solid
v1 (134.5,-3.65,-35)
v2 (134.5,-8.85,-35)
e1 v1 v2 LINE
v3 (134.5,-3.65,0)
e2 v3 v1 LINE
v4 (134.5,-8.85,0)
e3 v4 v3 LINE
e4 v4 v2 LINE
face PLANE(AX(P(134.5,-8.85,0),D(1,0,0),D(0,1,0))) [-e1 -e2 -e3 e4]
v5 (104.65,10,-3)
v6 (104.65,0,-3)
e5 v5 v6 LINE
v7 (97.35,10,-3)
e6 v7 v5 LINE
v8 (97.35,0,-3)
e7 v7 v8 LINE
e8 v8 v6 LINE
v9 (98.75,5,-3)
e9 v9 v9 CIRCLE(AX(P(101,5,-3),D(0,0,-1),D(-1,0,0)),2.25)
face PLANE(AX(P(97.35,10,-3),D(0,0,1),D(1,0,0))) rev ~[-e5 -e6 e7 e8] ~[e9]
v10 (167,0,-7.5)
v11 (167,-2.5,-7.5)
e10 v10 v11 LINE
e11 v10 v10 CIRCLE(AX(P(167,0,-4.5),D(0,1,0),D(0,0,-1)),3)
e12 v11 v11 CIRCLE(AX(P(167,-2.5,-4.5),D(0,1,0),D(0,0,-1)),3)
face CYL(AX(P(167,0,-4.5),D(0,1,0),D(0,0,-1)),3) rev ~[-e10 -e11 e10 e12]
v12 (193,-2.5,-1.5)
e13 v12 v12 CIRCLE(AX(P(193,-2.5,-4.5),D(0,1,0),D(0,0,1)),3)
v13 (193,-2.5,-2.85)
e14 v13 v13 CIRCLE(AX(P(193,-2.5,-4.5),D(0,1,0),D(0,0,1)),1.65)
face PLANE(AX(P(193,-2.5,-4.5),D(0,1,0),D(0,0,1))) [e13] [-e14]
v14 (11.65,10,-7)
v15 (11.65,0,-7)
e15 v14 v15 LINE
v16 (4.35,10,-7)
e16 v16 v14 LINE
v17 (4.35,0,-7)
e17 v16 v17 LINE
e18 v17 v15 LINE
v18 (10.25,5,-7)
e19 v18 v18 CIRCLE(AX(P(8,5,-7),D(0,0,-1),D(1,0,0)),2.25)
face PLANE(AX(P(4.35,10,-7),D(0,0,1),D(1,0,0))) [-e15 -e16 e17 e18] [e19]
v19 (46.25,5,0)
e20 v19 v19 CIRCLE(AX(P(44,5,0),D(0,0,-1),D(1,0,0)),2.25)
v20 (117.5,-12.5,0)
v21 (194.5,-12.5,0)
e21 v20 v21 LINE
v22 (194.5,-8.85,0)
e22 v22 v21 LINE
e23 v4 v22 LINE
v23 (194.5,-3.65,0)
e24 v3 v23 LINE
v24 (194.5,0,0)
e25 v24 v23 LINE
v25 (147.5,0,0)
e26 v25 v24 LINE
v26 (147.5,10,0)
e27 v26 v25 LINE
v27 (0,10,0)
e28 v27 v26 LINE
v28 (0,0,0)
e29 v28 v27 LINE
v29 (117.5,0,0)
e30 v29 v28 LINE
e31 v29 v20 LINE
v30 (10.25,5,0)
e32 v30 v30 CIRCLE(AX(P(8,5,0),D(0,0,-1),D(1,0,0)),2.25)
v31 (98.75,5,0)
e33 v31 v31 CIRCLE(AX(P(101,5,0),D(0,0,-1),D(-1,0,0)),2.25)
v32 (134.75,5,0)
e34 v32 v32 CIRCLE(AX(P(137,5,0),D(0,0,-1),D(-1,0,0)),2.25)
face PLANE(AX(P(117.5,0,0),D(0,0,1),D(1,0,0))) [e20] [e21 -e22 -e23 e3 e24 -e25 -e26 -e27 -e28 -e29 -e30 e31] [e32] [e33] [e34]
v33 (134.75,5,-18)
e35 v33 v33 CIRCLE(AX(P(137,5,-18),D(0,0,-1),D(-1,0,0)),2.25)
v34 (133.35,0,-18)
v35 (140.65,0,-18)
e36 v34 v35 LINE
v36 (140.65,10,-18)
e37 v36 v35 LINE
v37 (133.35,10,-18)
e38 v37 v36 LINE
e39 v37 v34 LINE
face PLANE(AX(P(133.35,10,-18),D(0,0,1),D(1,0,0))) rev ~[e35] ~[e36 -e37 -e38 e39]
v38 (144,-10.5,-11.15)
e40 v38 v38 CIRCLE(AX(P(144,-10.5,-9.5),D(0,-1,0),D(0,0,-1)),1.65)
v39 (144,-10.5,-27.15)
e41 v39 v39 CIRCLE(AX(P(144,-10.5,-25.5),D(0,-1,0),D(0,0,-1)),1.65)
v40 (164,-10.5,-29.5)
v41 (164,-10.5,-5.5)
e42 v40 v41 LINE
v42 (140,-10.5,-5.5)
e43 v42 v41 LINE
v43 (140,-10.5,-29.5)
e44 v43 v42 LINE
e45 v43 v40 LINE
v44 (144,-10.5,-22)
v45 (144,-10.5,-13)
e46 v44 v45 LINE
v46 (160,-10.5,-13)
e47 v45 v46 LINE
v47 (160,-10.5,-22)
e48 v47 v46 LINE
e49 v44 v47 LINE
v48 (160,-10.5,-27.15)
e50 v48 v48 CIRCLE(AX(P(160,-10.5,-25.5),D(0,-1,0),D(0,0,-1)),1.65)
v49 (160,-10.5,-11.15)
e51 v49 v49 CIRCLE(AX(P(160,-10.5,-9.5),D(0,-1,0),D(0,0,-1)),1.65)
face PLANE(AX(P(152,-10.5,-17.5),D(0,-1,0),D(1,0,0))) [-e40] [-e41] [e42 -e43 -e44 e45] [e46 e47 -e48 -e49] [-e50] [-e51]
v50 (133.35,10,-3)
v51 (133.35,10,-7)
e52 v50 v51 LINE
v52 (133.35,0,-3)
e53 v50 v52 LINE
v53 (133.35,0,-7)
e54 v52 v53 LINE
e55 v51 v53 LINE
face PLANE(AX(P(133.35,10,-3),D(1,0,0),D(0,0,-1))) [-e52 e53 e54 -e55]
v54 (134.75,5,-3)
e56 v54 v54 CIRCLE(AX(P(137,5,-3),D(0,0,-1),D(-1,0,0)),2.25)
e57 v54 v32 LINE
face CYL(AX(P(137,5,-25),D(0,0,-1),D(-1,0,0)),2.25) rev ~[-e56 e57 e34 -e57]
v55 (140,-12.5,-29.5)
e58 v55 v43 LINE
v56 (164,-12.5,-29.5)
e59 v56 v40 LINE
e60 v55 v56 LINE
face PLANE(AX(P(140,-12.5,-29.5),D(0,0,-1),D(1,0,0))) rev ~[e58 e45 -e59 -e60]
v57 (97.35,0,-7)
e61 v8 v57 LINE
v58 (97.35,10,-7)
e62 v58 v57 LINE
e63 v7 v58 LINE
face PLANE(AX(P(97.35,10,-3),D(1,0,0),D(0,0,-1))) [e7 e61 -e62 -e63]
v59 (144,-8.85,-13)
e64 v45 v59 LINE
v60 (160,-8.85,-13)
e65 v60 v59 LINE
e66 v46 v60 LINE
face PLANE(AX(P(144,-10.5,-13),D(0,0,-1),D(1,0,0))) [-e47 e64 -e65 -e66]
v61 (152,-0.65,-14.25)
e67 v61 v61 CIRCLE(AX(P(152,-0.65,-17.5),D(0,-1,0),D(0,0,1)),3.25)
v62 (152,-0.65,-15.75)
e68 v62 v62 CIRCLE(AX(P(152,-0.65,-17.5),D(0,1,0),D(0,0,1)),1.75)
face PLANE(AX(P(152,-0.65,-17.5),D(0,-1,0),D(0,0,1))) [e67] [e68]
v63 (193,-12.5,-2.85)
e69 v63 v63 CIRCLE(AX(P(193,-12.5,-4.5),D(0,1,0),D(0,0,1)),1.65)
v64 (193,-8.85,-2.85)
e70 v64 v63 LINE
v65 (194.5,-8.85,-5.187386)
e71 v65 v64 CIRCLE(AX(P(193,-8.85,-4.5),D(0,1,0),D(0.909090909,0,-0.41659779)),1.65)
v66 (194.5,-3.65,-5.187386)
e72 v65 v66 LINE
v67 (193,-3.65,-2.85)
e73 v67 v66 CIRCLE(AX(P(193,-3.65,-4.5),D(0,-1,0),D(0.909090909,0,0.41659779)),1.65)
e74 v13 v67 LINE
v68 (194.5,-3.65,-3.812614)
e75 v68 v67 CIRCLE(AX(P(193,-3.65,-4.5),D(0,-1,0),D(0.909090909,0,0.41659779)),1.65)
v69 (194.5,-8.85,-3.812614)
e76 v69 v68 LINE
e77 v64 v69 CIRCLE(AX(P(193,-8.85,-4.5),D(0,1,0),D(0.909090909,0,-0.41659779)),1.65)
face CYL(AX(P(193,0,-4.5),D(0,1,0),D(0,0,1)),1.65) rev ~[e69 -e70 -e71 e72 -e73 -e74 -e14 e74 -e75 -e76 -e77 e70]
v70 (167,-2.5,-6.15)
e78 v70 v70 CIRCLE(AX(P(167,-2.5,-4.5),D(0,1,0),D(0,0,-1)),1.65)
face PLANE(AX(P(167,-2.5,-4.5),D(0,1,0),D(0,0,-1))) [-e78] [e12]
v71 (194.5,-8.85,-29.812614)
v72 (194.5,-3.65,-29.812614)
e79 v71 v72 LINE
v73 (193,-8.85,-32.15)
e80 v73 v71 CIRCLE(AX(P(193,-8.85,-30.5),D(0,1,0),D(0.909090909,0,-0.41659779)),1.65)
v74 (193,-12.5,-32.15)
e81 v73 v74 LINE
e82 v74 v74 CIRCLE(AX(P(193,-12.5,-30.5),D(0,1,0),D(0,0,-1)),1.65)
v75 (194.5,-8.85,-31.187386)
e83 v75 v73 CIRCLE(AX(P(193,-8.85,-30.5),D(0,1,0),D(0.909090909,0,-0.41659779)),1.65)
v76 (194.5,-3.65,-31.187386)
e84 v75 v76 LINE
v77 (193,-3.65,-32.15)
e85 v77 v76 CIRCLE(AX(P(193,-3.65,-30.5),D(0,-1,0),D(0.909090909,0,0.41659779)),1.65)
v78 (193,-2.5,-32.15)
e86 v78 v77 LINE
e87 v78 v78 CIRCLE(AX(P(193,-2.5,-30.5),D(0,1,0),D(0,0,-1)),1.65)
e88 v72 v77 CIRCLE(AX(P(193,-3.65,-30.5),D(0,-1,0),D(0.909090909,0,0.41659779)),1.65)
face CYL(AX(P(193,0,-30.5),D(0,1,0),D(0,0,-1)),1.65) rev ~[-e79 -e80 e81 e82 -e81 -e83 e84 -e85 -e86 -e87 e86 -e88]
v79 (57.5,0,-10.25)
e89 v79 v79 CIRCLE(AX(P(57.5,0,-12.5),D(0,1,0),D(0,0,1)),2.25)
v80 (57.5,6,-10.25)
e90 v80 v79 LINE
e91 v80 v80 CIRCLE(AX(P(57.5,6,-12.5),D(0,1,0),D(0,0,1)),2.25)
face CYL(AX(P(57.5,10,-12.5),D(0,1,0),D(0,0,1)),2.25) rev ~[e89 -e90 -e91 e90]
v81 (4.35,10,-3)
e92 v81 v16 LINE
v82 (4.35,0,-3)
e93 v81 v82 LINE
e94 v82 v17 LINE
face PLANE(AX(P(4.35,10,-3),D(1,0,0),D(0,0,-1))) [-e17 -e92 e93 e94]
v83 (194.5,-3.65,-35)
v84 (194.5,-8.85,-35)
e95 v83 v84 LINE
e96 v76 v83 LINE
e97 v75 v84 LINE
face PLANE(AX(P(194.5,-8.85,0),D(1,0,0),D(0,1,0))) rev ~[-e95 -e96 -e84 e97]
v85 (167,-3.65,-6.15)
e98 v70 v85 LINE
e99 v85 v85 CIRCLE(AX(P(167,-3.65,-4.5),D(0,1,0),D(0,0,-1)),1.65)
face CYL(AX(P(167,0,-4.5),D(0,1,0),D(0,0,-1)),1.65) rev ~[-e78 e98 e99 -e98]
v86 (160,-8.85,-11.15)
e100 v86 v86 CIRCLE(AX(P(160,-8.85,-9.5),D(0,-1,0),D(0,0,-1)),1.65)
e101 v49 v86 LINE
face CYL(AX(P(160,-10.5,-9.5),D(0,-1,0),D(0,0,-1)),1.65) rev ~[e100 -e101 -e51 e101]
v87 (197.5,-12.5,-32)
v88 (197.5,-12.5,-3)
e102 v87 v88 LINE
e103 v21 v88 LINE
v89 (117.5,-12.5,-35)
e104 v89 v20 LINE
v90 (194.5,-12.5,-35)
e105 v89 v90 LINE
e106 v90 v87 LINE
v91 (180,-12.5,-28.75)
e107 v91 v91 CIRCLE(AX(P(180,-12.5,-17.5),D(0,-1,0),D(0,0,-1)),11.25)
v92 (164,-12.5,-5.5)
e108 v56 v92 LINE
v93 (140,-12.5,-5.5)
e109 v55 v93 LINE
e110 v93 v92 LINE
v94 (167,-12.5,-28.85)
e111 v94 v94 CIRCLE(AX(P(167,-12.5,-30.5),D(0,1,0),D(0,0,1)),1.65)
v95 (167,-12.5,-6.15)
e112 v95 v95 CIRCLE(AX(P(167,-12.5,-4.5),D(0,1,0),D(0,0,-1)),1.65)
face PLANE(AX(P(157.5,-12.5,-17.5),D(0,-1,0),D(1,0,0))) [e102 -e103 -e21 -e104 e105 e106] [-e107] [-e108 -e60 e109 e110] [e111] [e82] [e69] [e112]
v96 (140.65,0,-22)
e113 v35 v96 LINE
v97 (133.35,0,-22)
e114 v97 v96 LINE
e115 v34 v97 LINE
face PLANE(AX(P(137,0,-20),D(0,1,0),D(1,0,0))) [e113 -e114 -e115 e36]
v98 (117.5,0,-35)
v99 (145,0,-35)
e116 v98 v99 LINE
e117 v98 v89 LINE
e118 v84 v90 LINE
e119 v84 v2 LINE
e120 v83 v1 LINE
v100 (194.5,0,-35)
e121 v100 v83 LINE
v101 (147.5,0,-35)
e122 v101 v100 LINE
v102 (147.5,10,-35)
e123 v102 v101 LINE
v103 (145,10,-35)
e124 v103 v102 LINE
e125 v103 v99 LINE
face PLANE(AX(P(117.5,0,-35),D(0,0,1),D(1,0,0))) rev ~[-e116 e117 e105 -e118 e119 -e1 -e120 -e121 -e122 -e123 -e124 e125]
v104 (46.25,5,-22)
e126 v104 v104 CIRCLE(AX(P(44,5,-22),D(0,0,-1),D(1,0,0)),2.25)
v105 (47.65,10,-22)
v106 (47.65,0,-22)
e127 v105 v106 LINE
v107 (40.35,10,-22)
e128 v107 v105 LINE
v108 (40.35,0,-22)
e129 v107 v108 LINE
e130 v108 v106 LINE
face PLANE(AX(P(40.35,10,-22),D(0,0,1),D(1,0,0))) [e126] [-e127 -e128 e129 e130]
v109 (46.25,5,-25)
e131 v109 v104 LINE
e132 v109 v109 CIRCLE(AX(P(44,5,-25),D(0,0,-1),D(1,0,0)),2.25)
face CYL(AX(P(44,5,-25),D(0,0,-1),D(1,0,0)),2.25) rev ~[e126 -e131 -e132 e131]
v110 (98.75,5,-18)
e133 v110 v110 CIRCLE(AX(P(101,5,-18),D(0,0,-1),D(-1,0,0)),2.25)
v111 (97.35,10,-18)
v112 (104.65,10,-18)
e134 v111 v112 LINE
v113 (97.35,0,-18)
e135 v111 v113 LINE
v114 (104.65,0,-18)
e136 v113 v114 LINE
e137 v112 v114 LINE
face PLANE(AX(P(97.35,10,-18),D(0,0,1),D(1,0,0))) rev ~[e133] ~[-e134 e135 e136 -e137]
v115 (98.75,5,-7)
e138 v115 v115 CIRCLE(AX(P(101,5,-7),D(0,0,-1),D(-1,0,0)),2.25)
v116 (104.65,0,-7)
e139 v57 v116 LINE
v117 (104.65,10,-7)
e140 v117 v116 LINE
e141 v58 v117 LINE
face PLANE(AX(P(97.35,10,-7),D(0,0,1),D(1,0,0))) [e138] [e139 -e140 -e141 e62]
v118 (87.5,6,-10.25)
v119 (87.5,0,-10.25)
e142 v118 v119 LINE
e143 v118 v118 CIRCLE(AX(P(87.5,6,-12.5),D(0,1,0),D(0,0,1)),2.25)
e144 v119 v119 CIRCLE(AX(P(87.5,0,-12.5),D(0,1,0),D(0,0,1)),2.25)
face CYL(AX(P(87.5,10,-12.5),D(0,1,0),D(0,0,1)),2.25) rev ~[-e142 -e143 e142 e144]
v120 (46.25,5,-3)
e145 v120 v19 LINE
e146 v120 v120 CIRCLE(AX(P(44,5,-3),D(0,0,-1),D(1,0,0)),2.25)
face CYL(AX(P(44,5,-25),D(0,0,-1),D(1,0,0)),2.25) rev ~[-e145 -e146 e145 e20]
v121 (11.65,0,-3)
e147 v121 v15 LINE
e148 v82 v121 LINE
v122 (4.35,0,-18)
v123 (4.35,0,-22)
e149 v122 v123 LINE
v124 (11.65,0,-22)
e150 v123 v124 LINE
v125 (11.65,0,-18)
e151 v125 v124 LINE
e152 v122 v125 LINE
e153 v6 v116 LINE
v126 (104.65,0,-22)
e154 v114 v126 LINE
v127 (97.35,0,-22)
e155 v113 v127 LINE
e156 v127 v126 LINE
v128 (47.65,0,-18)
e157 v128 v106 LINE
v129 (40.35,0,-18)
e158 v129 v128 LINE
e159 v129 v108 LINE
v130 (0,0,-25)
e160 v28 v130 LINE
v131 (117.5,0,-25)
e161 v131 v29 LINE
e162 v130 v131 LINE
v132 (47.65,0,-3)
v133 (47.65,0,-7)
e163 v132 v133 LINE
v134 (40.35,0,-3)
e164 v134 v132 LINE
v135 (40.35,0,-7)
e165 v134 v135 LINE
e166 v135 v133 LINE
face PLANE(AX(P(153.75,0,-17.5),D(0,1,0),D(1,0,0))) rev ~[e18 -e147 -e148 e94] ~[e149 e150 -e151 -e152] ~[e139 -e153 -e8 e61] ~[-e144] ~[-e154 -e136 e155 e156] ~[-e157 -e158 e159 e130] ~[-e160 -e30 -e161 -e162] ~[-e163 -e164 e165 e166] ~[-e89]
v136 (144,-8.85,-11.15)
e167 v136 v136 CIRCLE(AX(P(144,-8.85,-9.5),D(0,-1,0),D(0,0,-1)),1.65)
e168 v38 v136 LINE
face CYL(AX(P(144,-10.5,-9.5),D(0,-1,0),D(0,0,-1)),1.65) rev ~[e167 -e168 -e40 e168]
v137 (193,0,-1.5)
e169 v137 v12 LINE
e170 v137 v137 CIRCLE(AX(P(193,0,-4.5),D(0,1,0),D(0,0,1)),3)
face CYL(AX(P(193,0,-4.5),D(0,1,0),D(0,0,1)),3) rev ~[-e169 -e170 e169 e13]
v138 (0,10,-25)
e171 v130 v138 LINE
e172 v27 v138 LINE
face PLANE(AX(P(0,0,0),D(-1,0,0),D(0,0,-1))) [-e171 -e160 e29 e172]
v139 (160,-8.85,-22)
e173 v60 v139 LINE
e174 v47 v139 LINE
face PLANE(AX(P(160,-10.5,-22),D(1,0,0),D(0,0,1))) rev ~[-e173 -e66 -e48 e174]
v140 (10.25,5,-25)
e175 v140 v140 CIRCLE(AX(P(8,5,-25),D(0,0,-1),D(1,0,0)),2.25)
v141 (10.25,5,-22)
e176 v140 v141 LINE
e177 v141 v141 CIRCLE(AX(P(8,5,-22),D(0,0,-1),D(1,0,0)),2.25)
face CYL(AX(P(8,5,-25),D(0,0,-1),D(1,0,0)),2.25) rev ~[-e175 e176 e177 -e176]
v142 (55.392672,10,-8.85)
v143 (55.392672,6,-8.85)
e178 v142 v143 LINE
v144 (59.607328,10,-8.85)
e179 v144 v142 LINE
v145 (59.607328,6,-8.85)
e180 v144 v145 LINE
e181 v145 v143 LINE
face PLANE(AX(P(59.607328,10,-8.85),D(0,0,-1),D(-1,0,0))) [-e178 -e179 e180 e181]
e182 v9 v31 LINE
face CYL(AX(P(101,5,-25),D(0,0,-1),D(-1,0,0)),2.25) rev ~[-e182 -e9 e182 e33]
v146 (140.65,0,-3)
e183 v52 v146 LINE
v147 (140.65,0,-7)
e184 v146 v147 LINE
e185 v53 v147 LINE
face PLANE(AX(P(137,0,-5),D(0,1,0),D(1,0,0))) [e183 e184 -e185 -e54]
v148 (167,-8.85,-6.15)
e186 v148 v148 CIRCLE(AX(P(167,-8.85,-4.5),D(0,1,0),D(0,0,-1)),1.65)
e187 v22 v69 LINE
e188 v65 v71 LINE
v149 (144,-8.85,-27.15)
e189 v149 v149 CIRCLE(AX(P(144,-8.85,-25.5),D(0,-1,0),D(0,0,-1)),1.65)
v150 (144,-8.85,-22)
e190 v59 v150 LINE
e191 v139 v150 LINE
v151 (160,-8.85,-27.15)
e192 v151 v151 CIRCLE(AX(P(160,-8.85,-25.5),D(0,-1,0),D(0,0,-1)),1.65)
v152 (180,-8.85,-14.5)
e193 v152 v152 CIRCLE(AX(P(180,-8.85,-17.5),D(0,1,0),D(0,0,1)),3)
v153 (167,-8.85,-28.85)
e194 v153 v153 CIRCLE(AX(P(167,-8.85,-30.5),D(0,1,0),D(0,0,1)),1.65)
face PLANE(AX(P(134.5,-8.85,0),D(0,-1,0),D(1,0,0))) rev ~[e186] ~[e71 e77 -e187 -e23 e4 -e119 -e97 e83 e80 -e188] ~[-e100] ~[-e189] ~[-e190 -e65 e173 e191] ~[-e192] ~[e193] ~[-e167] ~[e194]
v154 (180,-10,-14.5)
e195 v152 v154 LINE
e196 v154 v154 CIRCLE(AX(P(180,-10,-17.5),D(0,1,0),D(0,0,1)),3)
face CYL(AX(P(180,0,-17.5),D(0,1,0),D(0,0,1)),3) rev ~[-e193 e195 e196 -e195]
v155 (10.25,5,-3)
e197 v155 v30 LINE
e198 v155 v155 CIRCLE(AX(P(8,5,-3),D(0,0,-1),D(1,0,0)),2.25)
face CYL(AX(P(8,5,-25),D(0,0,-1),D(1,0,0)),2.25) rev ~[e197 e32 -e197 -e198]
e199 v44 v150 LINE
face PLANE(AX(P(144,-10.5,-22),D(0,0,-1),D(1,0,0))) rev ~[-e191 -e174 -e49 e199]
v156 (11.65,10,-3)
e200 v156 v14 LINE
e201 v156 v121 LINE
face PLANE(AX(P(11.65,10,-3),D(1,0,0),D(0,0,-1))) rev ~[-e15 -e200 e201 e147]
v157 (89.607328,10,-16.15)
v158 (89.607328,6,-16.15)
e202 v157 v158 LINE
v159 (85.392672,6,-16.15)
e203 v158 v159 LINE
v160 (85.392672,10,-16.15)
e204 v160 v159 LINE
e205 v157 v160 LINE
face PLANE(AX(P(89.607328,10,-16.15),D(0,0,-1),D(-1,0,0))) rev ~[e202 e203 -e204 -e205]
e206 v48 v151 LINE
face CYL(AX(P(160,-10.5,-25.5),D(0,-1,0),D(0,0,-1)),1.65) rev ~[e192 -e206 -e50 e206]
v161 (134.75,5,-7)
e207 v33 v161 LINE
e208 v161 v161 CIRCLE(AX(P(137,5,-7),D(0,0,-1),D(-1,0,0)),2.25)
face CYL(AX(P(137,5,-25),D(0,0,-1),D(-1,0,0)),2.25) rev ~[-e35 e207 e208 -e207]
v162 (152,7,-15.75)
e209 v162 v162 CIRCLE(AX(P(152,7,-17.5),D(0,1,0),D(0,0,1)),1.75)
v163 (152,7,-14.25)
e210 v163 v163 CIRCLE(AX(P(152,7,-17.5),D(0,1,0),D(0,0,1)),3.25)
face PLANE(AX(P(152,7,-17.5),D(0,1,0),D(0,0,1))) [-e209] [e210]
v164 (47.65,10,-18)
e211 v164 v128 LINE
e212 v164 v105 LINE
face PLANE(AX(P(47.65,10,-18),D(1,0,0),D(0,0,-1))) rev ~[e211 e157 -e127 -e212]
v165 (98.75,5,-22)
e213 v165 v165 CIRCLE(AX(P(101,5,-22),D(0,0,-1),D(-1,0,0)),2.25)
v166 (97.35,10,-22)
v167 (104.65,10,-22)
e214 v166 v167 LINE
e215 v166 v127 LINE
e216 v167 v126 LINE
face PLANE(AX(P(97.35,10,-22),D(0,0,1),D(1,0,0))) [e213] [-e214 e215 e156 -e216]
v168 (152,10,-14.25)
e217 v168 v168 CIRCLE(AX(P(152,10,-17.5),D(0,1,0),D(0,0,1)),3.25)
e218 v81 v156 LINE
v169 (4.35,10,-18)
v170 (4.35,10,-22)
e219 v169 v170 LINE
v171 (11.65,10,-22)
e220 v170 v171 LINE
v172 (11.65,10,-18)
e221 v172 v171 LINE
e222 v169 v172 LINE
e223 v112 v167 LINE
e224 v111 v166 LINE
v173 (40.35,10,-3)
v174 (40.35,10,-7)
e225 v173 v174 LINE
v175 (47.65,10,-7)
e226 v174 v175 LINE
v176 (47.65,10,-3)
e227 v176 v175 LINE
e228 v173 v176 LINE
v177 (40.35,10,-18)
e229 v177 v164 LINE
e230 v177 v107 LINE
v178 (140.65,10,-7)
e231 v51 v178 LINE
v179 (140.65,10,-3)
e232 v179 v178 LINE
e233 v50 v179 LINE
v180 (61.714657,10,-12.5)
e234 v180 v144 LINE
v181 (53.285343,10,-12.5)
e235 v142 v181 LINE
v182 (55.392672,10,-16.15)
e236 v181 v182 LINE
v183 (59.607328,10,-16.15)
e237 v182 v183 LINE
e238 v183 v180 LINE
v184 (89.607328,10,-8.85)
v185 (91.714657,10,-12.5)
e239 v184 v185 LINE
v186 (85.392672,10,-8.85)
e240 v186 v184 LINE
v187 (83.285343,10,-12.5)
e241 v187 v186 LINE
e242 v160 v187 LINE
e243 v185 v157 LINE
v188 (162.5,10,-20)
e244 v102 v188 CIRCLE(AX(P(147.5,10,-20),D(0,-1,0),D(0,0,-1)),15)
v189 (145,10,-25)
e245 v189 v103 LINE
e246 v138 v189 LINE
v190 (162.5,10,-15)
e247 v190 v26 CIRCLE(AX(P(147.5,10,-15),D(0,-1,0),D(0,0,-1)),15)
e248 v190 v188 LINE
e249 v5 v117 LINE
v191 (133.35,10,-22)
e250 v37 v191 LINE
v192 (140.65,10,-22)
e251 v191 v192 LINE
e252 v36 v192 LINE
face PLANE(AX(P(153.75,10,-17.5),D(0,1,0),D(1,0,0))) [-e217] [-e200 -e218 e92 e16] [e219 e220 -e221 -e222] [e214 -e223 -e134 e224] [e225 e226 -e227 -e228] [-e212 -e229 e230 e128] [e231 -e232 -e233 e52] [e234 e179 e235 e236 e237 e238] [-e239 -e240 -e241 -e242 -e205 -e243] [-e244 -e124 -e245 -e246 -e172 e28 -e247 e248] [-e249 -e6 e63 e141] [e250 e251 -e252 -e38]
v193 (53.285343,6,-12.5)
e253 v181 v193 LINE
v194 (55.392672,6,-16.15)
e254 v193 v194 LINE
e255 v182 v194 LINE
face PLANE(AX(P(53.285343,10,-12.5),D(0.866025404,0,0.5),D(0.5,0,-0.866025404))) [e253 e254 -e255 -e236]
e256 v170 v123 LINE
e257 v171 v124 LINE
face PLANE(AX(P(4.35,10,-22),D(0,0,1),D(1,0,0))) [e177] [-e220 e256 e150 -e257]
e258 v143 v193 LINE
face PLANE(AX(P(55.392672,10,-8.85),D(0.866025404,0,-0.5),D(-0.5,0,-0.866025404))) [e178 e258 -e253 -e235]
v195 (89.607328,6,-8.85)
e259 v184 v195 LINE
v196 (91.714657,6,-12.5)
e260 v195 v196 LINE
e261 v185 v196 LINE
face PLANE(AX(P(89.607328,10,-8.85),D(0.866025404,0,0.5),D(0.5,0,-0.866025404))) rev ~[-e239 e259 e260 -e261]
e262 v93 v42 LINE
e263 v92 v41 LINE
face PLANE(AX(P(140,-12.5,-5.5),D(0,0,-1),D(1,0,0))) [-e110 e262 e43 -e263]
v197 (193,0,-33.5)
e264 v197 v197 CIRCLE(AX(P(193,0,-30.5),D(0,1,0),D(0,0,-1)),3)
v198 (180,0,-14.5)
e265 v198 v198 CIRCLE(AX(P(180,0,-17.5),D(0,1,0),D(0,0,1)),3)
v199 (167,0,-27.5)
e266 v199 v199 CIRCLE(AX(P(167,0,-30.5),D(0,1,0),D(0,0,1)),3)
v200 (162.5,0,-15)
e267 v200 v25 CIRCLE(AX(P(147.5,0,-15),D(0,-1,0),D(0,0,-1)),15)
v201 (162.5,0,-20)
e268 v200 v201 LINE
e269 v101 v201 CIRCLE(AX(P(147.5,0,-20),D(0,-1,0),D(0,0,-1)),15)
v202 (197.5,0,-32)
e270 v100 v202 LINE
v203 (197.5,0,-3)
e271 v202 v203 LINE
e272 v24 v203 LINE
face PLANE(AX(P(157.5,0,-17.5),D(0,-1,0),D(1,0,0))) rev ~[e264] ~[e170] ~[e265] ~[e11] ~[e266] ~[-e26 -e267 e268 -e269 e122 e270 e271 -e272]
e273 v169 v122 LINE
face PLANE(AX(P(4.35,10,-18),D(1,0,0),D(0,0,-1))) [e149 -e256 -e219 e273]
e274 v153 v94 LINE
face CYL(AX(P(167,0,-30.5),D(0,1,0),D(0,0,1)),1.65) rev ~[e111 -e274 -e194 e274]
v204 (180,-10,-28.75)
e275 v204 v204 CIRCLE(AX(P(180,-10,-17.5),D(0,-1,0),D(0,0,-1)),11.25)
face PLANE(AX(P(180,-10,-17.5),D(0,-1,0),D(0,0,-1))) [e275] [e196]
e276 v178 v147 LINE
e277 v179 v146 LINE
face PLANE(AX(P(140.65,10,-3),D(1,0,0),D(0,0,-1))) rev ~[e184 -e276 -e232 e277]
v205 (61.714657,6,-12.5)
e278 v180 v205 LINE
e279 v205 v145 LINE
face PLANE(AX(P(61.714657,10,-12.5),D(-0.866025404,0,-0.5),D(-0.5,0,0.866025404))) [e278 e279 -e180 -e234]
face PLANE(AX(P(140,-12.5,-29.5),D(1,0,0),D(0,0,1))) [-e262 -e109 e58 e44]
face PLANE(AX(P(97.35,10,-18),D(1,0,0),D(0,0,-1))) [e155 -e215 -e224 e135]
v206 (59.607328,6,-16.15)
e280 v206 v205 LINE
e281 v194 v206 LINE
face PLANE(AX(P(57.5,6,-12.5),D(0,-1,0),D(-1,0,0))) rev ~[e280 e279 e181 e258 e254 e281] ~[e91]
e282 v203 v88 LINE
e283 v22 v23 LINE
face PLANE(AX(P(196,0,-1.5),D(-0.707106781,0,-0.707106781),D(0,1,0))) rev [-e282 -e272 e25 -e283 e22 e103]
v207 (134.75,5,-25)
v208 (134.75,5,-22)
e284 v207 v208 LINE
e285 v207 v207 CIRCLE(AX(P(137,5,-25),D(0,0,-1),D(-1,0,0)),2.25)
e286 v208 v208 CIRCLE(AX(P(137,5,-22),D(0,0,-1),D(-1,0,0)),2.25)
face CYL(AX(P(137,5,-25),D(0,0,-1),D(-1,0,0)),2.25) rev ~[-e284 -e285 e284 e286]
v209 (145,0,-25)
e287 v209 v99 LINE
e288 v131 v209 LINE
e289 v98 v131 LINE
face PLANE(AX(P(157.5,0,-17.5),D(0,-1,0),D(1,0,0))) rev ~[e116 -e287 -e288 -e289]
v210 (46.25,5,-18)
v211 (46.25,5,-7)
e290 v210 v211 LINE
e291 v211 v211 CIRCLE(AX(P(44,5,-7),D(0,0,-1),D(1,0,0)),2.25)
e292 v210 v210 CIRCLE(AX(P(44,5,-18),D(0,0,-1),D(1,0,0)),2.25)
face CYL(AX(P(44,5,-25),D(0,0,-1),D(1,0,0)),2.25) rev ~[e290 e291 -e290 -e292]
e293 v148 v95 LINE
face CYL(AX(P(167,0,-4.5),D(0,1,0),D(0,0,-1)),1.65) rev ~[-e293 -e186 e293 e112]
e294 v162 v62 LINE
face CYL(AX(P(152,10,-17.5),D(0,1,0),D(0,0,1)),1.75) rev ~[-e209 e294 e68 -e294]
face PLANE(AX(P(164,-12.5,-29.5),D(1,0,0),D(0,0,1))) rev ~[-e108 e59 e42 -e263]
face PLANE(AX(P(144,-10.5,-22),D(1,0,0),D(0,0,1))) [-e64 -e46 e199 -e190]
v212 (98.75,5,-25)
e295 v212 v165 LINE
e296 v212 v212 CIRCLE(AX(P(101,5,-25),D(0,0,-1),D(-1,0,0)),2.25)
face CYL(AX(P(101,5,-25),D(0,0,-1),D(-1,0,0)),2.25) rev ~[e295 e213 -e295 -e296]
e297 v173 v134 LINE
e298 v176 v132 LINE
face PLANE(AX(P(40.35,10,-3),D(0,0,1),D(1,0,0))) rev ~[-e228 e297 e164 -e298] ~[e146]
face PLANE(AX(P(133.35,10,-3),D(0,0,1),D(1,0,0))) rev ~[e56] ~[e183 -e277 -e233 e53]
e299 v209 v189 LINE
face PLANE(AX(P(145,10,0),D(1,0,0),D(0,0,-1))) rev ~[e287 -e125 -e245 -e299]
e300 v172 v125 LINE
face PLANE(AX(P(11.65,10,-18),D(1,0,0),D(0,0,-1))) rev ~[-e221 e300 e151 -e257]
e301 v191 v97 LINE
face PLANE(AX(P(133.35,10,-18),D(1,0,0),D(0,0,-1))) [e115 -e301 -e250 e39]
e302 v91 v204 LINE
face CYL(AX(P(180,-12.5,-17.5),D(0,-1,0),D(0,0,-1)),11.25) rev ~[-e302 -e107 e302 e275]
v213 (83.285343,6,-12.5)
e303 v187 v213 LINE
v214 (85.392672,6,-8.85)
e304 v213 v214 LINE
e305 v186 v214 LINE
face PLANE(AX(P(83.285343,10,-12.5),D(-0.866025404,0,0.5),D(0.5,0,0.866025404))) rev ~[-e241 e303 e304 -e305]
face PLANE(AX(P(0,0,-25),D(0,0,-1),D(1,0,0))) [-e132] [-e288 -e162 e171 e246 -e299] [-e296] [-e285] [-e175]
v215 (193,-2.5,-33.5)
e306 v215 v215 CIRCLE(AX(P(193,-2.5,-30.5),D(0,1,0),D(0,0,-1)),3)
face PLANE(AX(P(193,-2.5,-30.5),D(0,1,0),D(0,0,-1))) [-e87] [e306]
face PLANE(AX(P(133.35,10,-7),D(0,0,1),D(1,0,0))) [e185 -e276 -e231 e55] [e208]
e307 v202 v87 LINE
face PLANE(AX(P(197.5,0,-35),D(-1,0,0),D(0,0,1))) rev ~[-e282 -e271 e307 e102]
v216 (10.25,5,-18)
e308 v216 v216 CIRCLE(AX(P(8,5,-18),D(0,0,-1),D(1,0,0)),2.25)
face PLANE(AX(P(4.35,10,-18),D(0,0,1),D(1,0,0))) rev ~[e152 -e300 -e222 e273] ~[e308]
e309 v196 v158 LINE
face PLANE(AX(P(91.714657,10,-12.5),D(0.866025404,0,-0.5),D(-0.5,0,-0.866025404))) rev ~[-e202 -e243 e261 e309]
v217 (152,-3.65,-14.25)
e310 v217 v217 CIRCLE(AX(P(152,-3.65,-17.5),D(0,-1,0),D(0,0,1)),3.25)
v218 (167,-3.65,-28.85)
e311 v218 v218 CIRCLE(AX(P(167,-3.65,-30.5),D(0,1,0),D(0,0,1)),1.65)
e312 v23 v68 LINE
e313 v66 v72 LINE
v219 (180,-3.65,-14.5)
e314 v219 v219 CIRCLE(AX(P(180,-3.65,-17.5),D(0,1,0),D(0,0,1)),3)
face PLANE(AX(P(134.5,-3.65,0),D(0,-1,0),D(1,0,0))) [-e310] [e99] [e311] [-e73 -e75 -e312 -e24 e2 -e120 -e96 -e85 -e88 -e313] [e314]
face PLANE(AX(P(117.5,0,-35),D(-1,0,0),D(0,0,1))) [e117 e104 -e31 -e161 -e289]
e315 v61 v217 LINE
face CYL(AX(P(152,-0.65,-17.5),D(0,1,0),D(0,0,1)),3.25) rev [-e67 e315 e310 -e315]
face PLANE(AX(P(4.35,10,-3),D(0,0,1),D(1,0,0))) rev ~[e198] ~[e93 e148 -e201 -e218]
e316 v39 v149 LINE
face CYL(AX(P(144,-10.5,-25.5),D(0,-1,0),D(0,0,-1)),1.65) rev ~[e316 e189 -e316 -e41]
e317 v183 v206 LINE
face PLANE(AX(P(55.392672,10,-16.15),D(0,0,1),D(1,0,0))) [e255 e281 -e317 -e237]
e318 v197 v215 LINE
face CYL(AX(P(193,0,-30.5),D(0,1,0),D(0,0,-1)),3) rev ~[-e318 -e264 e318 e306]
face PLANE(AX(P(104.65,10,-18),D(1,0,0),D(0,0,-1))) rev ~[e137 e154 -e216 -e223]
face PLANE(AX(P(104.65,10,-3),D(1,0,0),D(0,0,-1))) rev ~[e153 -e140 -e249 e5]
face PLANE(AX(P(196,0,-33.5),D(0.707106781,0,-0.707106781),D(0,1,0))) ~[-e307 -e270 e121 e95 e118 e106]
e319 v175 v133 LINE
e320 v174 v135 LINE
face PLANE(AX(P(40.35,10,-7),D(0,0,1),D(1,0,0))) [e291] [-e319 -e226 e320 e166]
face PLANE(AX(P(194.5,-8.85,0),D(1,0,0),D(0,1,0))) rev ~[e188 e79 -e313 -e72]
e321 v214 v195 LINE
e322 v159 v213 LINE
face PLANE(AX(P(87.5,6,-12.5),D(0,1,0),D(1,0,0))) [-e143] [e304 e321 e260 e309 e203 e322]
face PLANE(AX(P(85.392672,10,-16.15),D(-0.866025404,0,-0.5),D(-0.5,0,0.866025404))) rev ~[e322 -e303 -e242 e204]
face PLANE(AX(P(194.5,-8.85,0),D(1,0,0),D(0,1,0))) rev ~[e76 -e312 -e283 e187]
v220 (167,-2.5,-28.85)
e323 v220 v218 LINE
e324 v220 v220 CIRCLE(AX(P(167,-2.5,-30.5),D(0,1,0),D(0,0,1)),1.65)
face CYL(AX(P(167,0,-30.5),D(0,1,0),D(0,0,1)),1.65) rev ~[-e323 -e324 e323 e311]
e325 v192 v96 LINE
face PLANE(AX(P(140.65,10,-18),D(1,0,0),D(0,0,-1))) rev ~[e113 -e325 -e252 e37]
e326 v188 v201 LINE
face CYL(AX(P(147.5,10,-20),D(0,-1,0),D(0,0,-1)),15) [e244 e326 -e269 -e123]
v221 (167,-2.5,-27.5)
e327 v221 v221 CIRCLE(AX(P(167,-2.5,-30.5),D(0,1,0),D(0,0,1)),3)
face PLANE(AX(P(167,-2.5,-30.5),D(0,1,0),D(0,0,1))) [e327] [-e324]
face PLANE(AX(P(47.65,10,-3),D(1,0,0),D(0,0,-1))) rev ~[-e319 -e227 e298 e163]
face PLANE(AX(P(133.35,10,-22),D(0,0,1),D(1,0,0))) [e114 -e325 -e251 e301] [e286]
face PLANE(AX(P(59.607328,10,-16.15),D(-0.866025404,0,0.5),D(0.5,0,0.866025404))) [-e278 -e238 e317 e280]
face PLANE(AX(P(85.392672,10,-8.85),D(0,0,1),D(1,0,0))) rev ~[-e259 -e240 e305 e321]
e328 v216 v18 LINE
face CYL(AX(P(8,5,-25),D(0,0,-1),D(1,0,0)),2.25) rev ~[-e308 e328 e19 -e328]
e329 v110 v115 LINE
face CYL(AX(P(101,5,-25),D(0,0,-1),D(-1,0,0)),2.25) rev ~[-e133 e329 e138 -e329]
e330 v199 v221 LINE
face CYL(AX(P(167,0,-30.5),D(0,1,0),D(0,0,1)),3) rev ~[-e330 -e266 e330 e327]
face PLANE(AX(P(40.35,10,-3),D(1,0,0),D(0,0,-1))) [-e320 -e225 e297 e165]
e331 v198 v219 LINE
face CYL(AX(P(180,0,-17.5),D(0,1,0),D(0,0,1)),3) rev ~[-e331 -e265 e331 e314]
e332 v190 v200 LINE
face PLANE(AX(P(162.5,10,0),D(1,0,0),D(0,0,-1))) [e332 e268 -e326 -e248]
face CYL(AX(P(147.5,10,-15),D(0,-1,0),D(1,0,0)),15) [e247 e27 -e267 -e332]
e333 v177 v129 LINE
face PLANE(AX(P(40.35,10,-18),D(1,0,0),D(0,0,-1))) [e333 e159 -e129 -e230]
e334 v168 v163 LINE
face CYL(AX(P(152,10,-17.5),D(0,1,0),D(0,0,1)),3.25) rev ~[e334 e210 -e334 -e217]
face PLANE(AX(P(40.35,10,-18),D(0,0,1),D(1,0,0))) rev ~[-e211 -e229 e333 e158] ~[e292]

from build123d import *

# Parameters (mm, degrees)
SKETCH1_W           = 145
SKETCH1_H           = 25
BOSS_EXTRUDE1_DEPTH = 10
SKETCH2_W           = 17.5
SKETCH2_H           = 35
BOSS_EXTRUDE2_DEPTH = 10
SKETCH4_W           = 80
SKETCH4_H           = 35
BOSS_EXTRUDE3_DEPTH = 12.5
SKETCH8_R           = 2.25
CUT_EXTRUDE5_DEPTH  = 200.468042553
SKETCH9_W           = 7.3
SKETCH9_H           = 4
CUT_EXTRUDE6_DEPTH  = 10
CUT_EXTRUDE7_REACH  = 202.966
SKETCH10_R          = 3
SKETCH10_R_2        = 1.65
CHAMFER1_SIZE       = 3
FILLET1_R           = 15
SKETCH14_R          = 11.25
CUT_EXTRUDE11_DEPTH = 2.5
SKETCH15_R          = 3
CUT_EXTRUDE12_DEPTH = 2.5
CUT_EXTRUDE13_REACH = 203.835
SKETCH16_R          = 2.25
CUT_EXTRUDE15_DEPTH = 4
CUT_EXTRUDE16_REACH = 202.966
SKETCH19_W          = 60
SKETCH19_H          = 5.2
SKETCH20_R          = 1.75
CUT_EXTRUDE17_DEPTH = 202.835328919
SKETCH21_W          = 24
SKETCH21_H          = 24
CUT_EXTRUDE18_DEPTH = 2
CUT_EXTRUDE19_REACH = 203.622
SKETCH22_R          = 1.65
SKETCH22_W          = 16
SKETCH22_H          = 9
SKETCH23_R          = 3.25
CUT_EXTRUDE20_DEPTH = 3
CUT_EXTRUDE21_START = -3
SKETCH24_R          = 3.25
CUT_EXTRUDE21_DEPTH = 3


with BuildPart() as part:
    # Sketch1 → Boss-Extrude1 (new body)
    with BuildSketch(Plane(origin=(0, 0, 0), x_dir=(1, 0, 0), z_dir=(0, 1, 0))):
        with Locations((72.5, 12.5)):
            Rectangle(SKETCH1_W, SKETCH1_H)
    extrude(amount=BOSS_EXTRUDE1_DEPTH)

    # Sketch2 → Boss-Extrude2 (add)
    with BuildSketch(Plane(origin=(0, 10, 0), x_dir=(1, 0, 0), z_dir=(0, 1, 0))):
        with Locations((153.75, 17.5)):
            Rectangle(SKETCH2_W, SKETCH2_H)
    extrude(amount=-BOSS_EXTRUDE2_DEPTH)

    # Sketch4 → Boss-Extrude3 (add)
    with BuildSketch(Plane.XZ):
        with Locations((157.5, -17.5)):
            Rectangle(SKETCH4_W, SKETCH4_H)
    extrude(amount=BOSS_EXTRUDE3_DEPTH)

    # Sketch8 → Cut-Extrude5 (cut, through all)
    with BuildSketch(Plane(origin=(0, 0, -25), x_dir=(-1, 0, 0), z_dir=(0, 0, -1))):
        with Locations((-137, 5)):
            Circle(SKETCH8_R)
        with Locations((-101, 5)):
            Circle(SKETCH8_R)
        with Locations(Location((-44, 5, 0), (0, 0, 180))):
            Circle(SKETCH8_R)
        with Locations(Location((-8, 5, 0), (0, 0, 180))):
            Circle(SKETCH8_R)
    extrude(amount=-CUT_EXTRUDE5_DEPTH, mode=Mode.SUBTRACT)

    # Sketch9 → Cut-Extrude6 (cut)
    with BuildSketch(Plane(origin=(0, 10, 0), x_dir=(1, 0, 0), z_dir=(0, 1, 0))):
        with Locations((137, 20)):
            Rectangle(SKETCH9_W, SKETCH9_H)
        with Locations((137, 5)):
            Rectangle(SKETCH9_W, SKETCH9_H)
        with Locations((101, 5)):
            Rectangle(SKETCH9_W, SKETCH9_H)
        with Locations((101, 20)):
            Rectangle(SKETCH9_W, SKETCH9_H)
        with Locations((8, 20)):
            Rectangle(SKETCH9_W, SKETCH9_H)
        with Locations((44, 20)):
            Rectangle(SKETCH9_W, SKETCH9_H)
        with Locations((44, 5)):
            Rectangle(SKETCH9_W, SKETCH9_H)
        with Locations((8, 5)):
            Rectangle(SKETCH9_W, SKETCH9_H)
    extrude(amount=-CUT_EXTRUDE6_DEPTH, mode=Mode.SUBTRACT)

    # Sketch10 → Cut-Extrude7 (cut, up to next)
    with BuildSketch(Plane(origin=(0, 0, 0), x_dir=(1, 0, 0), z_dir=(0, 1, 0)), mode=Mode.PRIVATE) as cut_extrude7_sk1:
        with Locations(Location((180, 17.5, 0), (0, 0, 270))):
            Circle(SKETCH10_R)
    cut_extrude7_tool1 = extrude(cut_extrude7_sk1.sketch, amount=-CUT_EXTRUDE7_REACH, mode=Mode.PRIVATE) & part.part
    # Sketch10 → Cut-Extrude7 (cut, up to next)
    with BuildSketch(Plane(origin=(0, 0, 0), x_dir=(1, 0, 0), z_dir=(0, 1, 0)), mode=Mode.PRIVATE) as cut_extrude7_sk2:
        with Locations(Location((193, 4.5, 0), (0, 0, 270))):
            Circle(SKETCH10_R_2)
    cut_extrude7_tool2 = extrude(cut_extrude7_sk2.sketch, amount=-CUT_EXTRUDE7_REACH, mode=Mode.PRIVATE) & part.part
    # Sketch10 → Cut-Extrude7 (cut, up to next)
    with BuildSketch(Plane(origin=(0, 0, 0), x_dir=(1, 0, 0), z_dir=(0, 1, 0)), mode=Mode.PRIVATE) as cut_extrude7_sk3:
        with Locations(Location((167, 4.5, 0), (0, 0, 90))):
            Circle(SKETCH10_R_2)
    cut_extrude7_tool3 = extrude(cut_extrude7_sk3.sketch, amount=-CUT_EXTRUDE7_REACH, mode=Mode.PRIVATE) & part.part
    # Sketch10 → Cut-Extrude7 (cut, up to next)
    with BuildSketch(Plane(origin=(0, 0, 0), x_dir=(1, 0, 0), z_dir=(0, 1, 0)), mode=Mode.PRIVATE) as cut_extrude7_sk4:
        with Locations(Location((167, 30.5, 0), (0, 0, 270))):
            Circle(SKETCH10_R_2)
    cut_extrude7_tool4 = extrude(cut_extrude7_sk4.sketch, amount=-CUT_EXTRUDE7_REACH, mode=Mode.PRIVATE) & part.part
    # Sketch10 → Cut-Extrude7 (cut, up to next)
    with BuildSketch(Plane(origin=(0, 0, 0), x_dir=(1, 0, 0), z_dir=(0, 1, 0)), mode=Mode.PRIVATE) as cut_extrude7_sk5:
        with Locations(Location((193, 30.5, 0), (0, 0, 90))):
            Circle(SKETCH10_R_2)
    cut_extrude7_tool5 = extrude(cut_extrude7_sk5.sketch, amount=-CUT_EXTRUDE7_REACH, mode=Mode.PRIVATE) & part.part
    add(cut_extrude7_tool1.solids().sort_by_distance((180, 0, -17.5))[0], mode=Mode.SUBTRACT)
    add(cut_extrude7_tool2.solids().sort_by_distance((193, 0, -4.5))[0], mode=Mode.SUBTRACT)
    add(cut_extrude7_tool3.solids().sort_by_distance((167, 0, -4.5))[0], mode=Mode.SUBTRACT)
    add(cut_extrude7_tool4.solids().sort_by_distance((167, 0, -30.5))[0], mode=Mode.SUBTRACT)
    add(cut_extrude7_tool5.solids().sort_by_distance((193, 0, -30.5))[0], mode=Mode.SUBTRACT)

    # Chamfer1
    chamfer1_edges = [part.edges().sort_by_distance(p)[0] for p in [
        (197.5, -6.25, -35),
        (197.5, -6.25, 0),
    ]]
    chamfer(chamfer1_edges, length=CHAMFER1_SIZE)

    # Fillet1
    fillet1_edges = [part.edges().sort_by_distance(p)[0] for p in [
        (162.5, 5, -35),
        (162.5, 5, 0),
    ]]
    fillet(fillet1_edges, radius=FILLET1_R)

    # Sketch14 → Cut-Extrude11 (cut)
    with BuildSketch(Plane.XZ.offset(12.5)):
        with Locations(Location((180, -17.5, 0), (0, 0, 270))):
            Circle(SKETCH14_R)
    extrude(amount=-CUT_EXTRUDE11_DEPTH, mode=Mode.SUBTRACT)

    # Sketch15 → Cut-Extrude12 (cut)
    with BuildSketch(Plane(origin=(0, 0, 0), x_dir=(1, 0, 0), z_dir=(0, 1, 0))):
        with Locations(Location((167, 30.5, 0), (0, 0, 270))):
            Circle(SKETCH15_R)
        with Locations(Location((193, 30.5, 0), (0, 0, 90))):
            Circle(SKETCH15_R)
        with Locations(Location((193, 4.5, 0), (0, 0, 270))):
            Circle(SKETCH15_R)
        with Locations(Location((167, 4.5, 0), (0, 0, 90))):
            Circle(SKETCH15_R)
    extrude(amount=-CUT_EXTRUDE12_DEPTH, mode=Mode.SUBTRACT)

    # Sketch16 → Cut-Extrude13 (cut, up to next)
    with BuildSketch(Plane(origin=(0, 10, 0), x_dir=(1, 0, 0), z_dir=(0, 1, 0)), mode=Mode.PRIVATE) as cut_extrude13_sk1:
        with Locations(Location((57.5, 12.5, 0), (0, 0, 270))):
            Circle(SKETCH16_R)
    cut_extrude13_tool1 = extrude(cut_extrude13_sk1.sketch, amount=-CUT_EXTRUDE13_REACH, mode=Mode.PRIVATE) & part.part
    # Sketch16 → Cut-Extrude13 (cut, up to next)
    with BuildSketch(Plane(origin=(0, 10, 0), x_dir=(1, 0, 0), z_dir=(0, 1, 0)), mode=Mode.PRIVATE) as cut_extrude13_sk2:
        with Locations(Location((87.5, 12.5, 0), (0, 0, 270))):
            Circle(SKETCH16_R)
    cut_extrude13_tool2 = extrude(cut_extrude13_sk2.sketch, amount=-CUT_EXTRUDE13_REACH, mode=Mode.PRIVATE) & part.part
    add(cut_extrude13_tool1.solids().sort_by_distance((57.5, 10, -12.5))[0], mode=Mode.SUBTRACT)
    add(cut_extrude13_tool2.solids().sort_by_distance((87.5, 10, -12.5))[0], mode=Mode.SUBTRACT)

    # Sketch18 → Cut-Extrude15 (cut)
    with BuildSketch(Plane(origin=(0, 10, 0), x_dir=(1, 0, 0), z_dir=(0, 1, 0))):
        Polygon((83.285343035, 12.5), (85.392671517, 8.85), (89.607328483, 8.85), (91.714656965, 12.5), (89.607328483, 16.15), (85.392671517, 16.15), align=None)
        Polygon((59.607328483, 16.15), (61.714656965, 12.5), (59.607328483, 8.85), (55.392671517, 8.85), (53.285343035, 12.5), (55.392671517, 16.15), align=None)
    extrude(amount=-CUT_EXTRUDE15_DEPTH, mode=Mode.SUBTRACT)

    # Sketch19 → Cut-Extrude16 (cut, up to next)
    with BuildSketch(Plane.XY, mode=Mode.PRIVATE) as cut_extrude16_sk1:
        with Locations((164.5, -6.25)):
            Rectangle(SKETCH19_W, SKETCH19_H)
    cut_extrude16_tool1 = extrude(cut_extrude16_sk1.sketch, amount=-CUT_EXTRUDE16_REACH, mode=Mode.PRIVATE) & part.part
    add(cut_extrude16_tool1.solids().sort_by_distance((164.5, -6.25, 0))[0], mode=Mode.SUBTRACT)

    # Sketch20 → Cut-Extrude17 (cut, through all)
    with BuildSketch(Plane(origin=(0, 10, 0), x_dir=(1, 0, 0), z_dir=(0, 1, 0))):
        with Locations(Location((152, 17.5, 0), (0, 0, 270))):
            Circle(SKETCH20_R)
    extrude(amount=-CUT_EXTRUDE17_DEPTH, mode=Mode.SUBTRACT)

    # Sketch21 → Cut-Extrude18 (cut)
    with BuildSketch(Plane.XZ.offset(12.5)):
        with Locations((152, -17.5)):
            Rectangle(SKETCH21_W, SKETCH21_H)
    extrude(amount=-CUT_EXTRUDE18_DEPTH, mode=Mode.SUBTRACT)

    # Sketch22 → Cut-Extrude19 (cut, up to next)
    with BuildSketch(Plane.XZ.offset(10.5), mode=Mode.PRIVATE) as cut_extrude19_sk1:
        with Locations(Location((144, -9.5, 0), (0, 0, 270))):
            Circle(SKETCH22_R)
    cut_extrude19_tool1 = extrude(cut_extrude19_sk1.sketch, amount=-CUT_EXTRUDE19_REACH, mode=Mode.PRIVATE) & part.part
    # Sketch22 → Cut-Extrude19 (cut, up to next)
    with BuildSketch(Plane.XZ.offset(10.5), mode=Mode.PRIVATE) as cut_extrude19_sk2:
        with Locations(Location((160, -9.5, 0), (0, 0, 270))):
            Circle(SKETCH22_R)
    cut_extrude19_tool2 = extrude(cut_extrude19_sk2.sketch, amount=-CUT_EXTRUDE19_REACH, mode=Mode.PRIVATE) & part.part
    # Sketch22 → Cut-Extrude19 (cut, up to next)
    with BuildSketch(Plane.XZ.offset(10.5), mode=Mode.PRIVATE) as cut_extrude19_sk3:
        with Locations(Location((160, -25.5, 0), (0, 0, 270))):
            Circle(SKETCH22_R)
    cut_extrude19_tool3 = extrude(cut_extrude19_sk3.sketch, amount=-CUT_EXTRUDE19_REACH, mode=Mode.PRIVATE) & part.part
    # Sketch22 → Cut-Extrude19 (cut, up to next)
    with BuildSketch(Plane.XZ.offset(10.5), mode=Mode.PRIVATE) as cut_extrude19_sk4:
        with Locations(Location((144, -25.5, 0), (0, 0, 270))):
            Circle(SKETCH22_R)
    cut_extrude19_tool4 = extrude(cut_extrude19_sk4.sketch, amount=-CUT_EXTRUDE19_REACH, mode=Mode.PRIVATE) & part.part
    # Sketch22 → Cut-Extrude19 (cut, up to next)
    with BuildSketch(Plane.XZ.offset(10.5), mode=Mode.PRIVATE) as cut_extrude19_sk5:
        with Locations((152, -17.5)):
            Rectangle(SKETCH22_W, SKETCH22_H)
    cut_extrude19_tool5 = extrude(cut_extrude19_sk5.sketch, amount=-CUT_EXTRUDE19_REACH, mode=Mode.PRIVATE) & part.part
    add(cut_extrude19_tool1.solids().sort_by_distance((144, -10.5, -9.5))[0], mode=Mode.SUBTRACT)
    add(cut_extrude19_tool2.solids().sort_by_distance((160, -10.5, -9.5))[0], mode=Mode.SUBTRACT)
    add(cut_extrude19_tool3.solids().sort_by_distance((160, -10.5, -25.5))[0], mode=Mode.SUBTRACT)
    add(cut_extrude19_tool4.solids().sort_by_distance((144, -10.5, -25.5))[0], mode=Mode.SUBTRACT)
    add(cut_extrude19_tool5.solids().sort_by_distance((152, -10.5, -17.5))[0], mode=Mode.SUBTRACT)

    # Sketch23 → Cut-Extrude20 (cut)
    with BuildSketch(Plane(origin=(0, 10, 0), x_dir=(1, 0, 0), z_dir=(0, 1, 0))):
        with Locations(Location((152, 17.5, 0), (0, 0, 270))):
            Circle(SKETCH23_R)
    extrude(amount=-CUT_EXTRUDE20_DEPTH, mode=Mode.SUBTRACT)

    # Sketch24 → Cut-Extrude21 (cut)
    with BuildSketch(Plane.XZ.offset(3.65).offset(CUT_EXTRUDE21_START)):
        with Locations(Location((152, -17.5, 0), (0, 0, 90))):
            Circle(SKETCH24_R)
    extrude(amount=CUT_EXTRUDE21_DEPTH, mode=Mode.SUBTRACT)


solid = part.part
